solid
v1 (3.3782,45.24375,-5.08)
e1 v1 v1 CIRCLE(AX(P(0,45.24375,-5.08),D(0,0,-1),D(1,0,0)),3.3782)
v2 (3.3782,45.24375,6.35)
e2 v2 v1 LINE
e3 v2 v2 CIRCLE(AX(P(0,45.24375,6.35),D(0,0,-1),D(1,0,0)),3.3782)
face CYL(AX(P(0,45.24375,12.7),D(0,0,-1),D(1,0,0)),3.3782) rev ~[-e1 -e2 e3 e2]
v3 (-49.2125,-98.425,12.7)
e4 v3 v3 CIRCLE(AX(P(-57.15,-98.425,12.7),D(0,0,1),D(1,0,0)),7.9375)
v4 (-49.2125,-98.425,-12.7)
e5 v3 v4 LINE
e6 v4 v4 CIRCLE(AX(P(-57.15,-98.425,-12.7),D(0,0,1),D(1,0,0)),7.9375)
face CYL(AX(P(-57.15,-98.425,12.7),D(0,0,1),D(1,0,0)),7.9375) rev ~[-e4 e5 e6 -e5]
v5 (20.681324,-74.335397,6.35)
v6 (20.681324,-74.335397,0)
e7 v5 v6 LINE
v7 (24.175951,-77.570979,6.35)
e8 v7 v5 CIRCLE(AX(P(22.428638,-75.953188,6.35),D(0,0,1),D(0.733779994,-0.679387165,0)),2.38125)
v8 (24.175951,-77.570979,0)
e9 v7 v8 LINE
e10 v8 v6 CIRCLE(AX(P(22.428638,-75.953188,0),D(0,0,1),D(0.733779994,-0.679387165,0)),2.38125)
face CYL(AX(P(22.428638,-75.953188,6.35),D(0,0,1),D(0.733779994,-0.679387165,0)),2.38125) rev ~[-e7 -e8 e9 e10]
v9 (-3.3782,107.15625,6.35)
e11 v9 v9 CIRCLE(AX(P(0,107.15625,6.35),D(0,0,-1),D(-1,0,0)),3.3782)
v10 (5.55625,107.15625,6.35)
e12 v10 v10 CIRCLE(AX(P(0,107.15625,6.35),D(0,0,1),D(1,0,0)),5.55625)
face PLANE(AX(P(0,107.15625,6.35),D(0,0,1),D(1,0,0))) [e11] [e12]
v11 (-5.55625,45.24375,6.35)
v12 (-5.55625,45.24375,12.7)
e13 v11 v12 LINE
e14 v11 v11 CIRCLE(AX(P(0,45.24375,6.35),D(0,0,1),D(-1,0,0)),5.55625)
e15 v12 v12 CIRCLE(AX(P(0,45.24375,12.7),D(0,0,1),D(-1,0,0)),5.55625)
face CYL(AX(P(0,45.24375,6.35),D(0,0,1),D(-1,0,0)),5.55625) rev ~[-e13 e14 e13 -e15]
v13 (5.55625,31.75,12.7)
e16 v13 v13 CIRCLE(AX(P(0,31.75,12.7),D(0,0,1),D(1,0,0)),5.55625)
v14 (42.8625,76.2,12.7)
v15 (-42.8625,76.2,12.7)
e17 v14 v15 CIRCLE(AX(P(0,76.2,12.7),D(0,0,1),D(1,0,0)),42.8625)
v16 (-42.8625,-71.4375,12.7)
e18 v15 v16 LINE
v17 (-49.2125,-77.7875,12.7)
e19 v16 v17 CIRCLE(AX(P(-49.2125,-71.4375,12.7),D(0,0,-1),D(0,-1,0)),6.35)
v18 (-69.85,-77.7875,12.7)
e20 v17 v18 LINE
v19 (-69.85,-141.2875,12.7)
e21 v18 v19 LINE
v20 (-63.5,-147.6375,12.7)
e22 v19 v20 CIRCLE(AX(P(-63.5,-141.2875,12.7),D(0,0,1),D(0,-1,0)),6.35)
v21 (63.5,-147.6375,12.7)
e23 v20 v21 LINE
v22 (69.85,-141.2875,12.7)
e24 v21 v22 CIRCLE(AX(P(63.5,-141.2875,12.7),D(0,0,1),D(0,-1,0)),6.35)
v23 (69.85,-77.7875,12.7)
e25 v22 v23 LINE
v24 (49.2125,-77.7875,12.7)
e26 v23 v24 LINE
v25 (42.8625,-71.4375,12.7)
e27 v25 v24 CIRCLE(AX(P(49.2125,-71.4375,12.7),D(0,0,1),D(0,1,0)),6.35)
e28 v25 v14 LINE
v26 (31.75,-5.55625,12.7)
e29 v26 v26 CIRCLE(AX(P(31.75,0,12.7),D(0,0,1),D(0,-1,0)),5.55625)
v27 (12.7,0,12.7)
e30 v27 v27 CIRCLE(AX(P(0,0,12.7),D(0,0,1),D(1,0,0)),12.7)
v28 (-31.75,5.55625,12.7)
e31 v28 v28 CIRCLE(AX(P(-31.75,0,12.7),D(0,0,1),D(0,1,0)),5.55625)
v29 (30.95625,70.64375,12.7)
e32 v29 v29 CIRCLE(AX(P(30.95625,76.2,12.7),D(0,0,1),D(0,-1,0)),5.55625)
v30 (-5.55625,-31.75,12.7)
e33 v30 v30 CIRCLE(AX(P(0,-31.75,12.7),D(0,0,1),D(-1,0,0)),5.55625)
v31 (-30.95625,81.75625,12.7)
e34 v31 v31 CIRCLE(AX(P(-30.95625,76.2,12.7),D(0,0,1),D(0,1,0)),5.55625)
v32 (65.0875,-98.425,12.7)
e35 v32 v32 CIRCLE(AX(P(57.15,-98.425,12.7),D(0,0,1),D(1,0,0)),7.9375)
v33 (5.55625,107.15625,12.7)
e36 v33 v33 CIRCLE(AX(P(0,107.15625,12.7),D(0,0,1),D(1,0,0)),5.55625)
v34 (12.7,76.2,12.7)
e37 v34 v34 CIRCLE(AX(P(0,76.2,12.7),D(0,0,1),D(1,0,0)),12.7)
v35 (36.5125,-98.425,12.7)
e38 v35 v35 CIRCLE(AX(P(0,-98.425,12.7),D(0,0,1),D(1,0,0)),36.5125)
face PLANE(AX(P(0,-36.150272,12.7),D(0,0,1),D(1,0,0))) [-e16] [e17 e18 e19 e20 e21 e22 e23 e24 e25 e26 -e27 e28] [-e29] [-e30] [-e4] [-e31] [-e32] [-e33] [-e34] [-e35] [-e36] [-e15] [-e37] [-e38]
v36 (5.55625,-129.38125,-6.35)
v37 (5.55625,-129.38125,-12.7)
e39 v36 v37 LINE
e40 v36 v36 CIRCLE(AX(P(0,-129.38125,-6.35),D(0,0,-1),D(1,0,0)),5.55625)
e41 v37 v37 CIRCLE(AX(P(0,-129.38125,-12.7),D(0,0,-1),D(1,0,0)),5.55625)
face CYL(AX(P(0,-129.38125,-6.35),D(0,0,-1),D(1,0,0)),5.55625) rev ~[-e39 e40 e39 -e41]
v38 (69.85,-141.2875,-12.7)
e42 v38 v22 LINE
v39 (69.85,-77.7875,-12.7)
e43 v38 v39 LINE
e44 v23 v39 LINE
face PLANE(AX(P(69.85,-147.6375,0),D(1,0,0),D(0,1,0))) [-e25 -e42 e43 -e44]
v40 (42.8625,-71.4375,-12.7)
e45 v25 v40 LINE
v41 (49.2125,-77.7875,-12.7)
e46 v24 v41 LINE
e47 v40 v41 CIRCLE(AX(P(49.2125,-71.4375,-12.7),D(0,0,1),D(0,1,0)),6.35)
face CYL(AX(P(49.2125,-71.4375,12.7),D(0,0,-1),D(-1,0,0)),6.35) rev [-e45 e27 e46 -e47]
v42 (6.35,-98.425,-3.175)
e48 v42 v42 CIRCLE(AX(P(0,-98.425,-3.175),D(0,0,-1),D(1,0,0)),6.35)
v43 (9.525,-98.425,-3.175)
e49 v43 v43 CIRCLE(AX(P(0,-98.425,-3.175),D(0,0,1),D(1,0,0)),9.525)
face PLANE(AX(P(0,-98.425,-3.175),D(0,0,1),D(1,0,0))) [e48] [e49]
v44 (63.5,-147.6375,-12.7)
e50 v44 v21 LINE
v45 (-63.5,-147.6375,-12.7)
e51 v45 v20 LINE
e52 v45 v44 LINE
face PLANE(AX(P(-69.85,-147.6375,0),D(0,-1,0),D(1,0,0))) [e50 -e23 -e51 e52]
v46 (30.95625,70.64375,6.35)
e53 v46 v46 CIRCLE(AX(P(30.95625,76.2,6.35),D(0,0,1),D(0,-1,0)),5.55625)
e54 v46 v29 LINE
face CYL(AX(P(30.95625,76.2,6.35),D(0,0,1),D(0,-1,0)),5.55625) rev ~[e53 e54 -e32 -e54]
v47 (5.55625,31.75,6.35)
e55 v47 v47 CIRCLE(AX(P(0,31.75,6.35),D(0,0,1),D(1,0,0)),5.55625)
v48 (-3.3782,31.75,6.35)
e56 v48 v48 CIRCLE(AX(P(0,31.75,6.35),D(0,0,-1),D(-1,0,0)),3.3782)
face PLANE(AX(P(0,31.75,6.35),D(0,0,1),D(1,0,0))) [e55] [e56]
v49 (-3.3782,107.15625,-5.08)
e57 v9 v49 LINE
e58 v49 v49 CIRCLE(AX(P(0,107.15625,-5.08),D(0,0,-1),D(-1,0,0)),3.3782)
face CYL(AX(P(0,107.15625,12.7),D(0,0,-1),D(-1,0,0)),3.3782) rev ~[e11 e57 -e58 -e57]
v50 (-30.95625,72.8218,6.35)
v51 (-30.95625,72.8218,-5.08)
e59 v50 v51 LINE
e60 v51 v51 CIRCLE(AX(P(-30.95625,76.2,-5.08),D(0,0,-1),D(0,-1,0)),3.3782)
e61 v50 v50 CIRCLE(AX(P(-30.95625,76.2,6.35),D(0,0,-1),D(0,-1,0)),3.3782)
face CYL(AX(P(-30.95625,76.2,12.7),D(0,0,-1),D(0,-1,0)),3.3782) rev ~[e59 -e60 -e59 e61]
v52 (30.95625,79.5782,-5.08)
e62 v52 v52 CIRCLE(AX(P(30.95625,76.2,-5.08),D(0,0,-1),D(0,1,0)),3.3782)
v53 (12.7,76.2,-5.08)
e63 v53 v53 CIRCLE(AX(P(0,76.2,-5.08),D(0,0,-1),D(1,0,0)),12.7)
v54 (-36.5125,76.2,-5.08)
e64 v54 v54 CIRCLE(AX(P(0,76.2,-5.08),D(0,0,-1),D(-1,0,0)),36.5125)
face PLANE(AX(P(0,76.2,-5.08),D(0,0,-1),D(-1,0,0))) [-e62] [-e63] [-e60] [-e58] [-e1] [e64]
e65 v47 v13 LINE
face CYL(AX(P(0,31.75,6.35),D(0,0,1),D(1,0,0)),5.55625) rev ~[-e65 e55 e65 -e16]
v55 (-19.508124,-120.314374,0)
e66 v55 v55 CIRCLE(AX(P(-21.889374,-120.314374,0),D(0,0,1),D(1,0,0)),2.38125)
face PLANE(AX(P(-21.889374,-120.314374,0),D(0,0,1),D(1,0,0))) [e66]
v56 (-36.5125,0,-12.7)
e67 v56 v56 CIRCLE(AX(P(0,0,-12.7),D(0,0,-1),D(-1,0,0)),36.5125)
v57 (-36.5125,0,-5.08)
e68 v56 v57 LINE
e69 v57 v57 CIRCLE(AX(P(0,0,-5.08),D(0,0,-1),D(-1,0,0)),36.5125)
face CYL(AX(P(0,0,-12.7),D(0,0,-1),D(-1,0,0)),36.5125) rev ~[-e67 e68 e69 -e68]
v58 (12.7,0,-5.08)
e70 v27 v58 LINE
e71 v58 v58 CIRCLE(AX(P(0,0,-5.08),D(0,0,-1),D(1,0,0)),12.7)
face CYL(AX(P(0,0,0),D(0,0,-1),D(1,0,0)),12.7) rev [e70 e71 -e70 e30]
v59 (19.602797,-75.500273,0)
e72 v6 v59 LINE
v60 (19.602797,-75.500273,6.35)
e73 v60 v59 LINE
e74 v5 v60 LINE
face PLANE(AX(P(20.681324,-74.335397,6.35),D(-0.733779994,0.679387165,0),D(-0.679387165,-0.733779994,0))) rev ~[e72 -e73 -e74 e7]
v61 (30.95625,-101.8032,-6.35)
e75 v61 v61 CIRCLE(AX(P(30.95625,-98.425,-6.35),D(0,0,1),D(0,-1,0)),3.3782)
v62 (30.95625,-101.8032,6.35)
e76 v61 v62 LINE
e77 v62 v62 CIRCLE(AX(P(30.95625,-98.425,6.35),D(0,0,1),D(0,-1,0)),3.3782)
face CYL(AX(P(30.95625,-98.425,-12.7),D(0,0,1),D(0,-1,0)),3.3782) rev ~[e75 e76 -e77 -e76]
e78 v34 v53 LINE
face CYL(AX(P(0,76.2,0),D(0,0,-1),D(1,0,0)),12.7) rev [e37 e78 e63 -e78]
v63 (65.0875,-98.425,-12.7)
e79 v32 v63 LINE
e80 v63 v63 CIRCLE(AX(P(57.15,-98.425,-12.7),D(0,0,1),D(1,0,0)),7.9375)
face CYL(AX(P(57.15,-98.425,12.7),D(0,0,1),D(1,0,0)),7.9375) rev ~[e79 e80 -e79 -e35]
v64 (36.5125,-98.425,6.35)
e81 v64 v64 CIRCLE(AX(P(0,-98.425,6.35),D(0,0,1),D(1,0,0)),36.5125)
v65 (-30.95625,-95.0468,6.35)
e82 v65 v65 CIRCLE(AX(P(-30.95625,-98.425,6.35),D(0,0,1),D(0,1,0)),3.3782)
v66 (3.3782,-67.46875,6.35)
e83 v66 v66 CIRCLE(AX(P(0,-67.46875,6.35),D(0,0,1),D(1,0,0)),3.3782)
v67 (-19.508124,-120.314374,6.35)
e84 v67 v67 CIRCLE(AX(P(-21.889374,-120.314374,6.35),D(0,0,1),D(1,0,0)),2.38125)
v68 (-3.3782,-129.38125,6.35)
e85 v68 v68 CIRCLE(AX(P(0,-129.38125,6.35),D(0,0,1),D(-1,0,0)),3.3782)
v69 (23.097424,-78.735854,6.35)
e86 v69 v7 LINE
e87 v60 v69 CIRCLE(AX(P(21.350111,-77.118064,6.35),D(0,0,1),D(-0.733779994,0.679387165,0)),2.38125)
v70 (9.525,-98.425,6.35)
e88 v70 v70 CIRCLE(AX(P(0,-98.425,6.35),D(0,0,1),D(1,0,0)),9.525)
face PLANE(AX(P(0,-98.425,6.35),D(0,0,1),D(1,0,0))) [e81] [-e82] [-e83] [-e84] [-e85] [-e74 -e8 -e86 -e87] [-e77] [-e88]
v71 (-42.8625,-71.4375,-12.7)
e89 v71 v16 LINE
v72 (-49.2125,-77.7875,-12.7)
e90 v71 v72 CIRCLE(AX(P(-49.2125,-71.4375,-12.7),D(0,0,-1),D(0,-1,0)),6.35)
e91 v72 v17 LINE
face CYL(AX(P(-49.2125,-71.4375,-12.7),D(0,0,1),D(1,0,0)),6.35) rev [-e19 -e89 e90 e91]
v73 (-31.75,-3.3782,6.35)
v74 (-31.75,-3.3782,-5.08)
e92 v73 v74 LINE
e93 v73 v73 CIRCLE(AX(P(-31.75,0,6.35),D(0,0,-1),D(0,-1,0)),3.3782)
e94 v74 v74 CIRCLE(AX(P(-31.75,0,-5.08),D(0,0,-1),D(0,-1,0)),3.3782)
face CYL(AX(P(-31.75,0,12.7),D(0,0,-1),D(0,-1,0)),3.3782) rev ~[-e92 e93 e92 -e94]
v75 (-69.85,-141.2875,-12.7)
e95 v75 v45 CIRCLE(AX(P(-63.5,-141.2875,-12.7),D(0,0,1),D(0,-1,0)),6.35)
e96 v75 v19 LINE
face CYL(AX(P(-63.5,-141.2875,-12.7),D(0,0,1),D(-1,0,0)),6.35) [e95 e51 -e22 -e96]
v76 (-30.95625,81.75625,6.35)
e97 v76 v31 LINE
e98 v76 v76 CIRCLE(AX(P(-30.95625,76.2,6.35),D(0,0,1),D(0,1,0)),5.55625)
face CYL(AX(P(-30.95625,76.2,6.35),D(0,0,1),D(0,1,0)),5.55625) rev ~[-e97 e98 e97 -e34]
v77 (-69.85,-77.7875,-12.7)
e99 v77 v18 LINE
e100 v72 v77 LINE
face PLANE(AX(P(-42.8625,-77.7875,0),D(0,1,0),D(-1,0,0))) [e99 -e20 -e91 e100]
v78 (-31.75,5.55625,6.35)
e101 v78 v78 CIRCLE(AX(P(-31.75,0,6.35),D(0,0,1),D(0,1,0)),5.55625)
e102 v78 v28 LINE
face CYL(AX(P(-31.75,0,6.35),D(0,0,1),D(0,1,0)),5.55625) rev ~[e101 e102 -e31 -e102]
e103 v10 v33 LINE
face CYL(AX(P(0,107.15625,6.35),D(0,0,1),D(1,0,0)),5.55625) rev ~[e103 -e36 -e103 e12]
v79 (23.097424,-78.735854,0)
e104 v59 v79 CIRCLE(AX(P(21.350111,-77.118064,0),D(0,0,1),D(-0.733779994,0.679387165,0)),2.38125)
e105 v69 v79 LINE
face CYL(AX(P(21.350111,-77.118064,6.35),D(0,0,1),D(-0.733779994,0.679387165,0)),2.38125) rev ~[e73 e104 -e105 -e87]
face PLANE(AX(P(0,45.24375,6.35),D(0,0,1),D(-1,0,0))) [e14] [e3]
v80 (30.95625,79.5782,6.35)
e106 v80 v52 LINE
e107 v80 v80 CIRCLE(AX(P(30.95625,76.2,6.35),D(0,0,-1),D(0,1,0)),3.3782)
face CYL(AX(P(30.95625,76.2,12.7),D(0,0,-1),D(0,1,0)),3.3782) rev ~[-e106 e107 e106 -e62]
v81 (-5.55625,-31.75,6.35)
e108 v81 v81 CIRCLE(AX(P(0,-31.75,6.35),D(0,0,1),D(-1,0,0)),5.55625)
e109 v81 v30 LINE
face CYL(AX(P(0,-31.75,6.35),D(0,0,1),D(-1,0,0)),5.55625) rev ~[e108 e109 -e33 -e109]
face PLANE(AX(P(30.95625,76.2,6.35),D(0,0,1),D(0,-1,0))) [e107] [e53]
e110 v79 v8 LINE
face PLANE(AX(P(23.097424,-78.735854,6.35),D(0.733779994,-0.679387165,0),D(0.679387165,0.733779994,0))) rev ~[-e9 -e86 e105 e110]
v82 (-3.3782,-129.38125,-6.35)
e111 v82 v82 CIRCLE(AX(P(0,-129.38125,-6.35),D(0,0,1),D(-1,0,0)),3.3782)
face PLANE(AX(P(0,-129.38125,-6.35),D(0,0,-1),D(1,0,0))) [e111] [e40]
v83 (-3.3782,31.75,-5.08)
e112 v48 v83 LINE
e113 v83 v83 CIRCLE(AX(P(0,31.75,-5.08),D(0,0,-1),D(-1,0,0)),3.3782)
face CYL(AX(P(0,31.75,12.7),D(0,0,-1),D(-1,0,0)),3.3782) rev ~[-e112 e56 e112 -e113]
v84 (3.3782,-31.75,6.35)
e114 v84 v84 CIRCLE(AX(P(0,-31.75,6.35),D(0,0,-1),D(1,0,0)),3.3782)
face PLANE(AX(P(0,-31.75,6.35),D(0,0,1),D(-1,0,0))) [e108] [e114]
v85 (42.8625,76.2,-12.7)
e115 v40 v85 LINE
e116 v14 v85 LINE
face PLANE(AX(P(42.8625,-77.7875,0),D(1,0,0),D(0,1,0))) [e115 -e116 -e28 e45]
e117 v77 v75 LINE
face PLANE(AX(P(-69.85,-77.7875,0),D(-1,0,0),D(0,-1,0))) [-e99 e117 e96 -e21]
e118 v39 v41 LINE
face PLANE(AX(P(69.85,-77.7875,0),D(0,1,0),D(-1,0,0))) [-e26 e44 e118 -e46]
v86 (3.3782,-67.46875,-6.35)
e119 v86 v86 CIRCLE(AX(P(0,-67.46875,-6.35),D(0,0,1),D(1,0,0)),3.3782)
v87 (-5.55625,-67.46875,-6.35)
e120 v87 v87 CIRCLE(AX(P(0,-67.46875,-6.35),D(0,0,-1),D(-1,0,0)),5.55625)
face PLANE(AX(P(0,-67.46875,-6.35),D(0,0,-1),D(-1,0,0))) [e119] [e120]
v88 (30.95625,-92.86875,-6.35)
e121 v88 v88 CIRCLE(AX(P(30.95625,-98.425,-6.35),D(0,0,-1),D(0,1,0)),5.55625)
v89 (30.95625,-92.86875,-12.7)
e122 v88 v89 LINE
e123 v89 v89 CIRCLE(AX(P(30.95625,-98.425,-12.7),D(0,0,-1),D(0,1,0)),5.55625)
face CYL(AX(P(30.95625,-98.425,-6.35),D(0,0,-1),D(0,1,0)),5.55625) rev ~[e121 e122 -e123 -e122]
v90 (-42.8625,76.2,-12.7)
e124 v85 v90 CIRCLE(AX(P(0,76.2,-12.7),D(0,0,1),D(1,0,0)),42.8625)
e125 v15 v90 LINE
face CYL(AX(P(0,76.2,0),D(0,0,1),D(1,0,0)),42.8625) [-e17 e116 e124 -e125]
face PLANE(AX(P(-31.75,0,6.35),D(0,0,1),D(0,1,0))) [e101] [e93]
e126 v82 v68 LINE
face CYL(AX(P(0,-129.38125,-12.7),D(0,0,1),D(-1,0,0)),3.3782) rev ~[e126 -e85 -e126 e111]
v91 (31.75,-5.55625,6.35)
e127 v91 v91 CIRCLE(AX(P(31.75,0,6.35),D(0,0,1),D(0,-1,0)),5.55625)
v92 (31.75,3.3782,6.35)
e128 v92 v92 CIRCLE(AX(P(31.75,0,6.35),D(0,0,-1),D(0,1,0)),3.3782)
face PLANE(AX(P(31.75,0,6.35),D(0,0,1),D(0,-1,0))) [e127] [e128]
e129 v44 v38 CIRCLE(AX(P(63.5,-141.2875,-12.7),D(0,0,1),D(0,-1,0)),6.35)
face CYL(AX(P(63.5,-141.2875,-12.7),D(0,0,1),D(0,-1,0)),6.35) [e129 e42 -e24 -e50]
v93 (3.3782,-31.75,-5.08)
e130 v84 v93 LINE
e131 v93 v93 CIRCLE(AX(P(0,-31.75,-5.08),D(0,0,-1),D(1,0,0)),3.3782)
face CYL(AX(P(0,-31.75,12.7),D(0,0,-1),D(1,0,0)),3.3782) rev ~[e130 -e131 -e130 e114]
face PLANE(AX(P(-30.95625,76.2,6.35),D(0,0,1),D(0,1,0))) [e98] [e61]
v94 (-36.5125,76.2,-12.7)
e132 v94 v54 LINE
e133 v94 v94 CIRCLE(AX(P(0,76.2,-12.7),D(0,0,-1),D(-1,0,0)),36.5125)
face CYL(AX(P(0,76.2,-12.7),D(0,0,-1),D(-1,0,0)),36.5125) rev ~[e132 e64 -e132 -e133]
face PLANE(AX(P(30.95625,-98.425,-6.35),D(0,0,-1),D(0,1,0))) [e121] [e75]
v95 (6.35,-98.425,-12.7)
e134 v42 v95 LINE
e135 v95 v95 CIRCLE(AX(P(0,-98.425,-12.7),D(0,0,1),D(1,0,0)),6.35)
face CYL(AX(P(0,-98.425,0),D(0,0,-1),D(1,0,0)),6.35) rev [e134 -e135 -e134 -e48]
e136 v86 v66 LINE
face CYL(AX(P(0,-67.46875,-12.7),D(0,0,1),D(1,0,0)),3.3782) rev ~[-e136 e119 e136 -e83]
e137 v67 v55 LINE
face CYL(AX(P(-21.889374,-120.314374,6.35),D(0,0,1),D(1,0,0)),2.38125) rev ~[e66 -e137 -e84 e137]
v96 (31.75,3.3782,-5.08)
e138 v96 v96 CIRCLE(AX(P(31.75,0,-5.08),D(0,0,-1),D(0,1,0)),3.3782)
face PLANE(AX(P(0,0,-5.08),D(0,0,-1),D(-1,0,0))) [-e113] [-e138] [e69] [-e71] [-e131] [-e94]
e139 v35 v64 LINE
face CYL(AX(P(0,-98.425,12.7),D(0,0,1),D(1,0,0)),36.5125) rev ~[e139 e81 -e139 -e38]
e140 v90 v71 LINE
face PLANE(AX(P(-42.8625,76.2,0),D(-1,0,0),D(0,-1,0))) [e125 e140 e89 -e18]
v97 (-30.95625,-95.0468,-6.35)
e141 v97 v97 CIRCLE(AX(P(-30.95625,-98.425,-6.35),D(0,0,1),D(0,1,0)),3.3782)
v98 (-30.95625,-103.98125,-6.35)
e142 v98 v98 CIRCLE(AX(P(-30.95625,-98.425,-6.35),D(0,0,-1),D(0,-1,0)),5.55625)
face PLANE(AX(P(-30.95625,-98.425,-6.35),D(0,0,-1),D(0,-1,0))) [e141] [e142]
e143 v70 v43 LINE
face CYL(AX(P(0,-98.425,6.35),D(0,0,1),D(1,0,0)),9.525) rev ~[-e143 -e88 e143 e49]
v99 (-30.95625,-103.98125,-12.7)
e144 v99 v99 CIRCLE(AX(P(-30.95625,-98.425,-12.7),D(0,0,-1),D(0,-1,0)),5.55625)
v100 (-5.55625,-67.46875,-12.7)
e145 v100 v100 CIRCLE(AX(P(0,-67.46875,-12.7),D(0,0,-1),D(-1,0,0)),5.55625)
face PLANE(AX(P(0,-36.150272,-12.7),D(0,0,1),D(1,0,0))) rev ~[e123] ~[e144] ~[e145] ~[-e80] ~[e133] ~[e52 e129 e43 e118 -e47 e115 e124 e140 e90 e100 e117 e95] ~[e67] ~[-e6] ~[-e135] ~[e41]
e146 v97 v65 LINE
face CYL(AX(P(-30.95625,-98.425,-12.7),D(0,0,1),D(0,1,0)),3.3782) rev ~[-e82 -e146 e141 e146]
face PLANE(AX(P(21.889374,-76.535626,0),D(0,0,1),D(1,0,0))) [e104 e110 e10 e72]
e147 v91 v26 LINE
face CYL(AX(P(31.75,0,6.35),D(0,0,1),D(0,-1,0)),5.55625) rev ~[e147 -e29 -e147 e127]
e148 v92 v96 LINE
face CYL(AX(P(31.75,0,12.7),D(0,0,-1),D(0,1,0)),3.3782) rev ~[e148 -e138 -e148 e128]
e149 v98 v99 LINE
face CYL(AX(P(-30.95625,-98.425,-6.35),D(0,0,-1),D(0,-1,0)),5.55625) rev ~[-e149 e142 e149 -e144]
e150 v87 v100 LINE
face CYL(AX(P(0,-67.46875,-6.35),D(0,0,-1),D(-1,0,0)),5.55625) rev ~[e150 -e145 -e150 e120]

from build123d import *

# Parameters (mm, degrees)
BOLT_CIRCLE_R                                     = 12.7
BOLT_CIRCLE_R_2                                   = 6.35
BASE_DEPTH                                        = 12.7
STRUCTURE_TUBE_CONNECTION_COUNTERBORE_D           = 6.7564
STRUCTURE_TUBE_CONNECTION_COUNTERBORE_CBORE_D     = 11.1125
STRUCTURE_TUBE_CONNECTION_COUNTERBORE_CBORE_DEPTH = 6.35
STRUCTURE_TUBE_CONNECTION_COUNTERBORE_PA_COUNT    = 4
SPINDLE_CONNECTION_COUNTERBORE_D                  = 6.7564
SPINDLE_CONNECTION_COUNTERBORE_CBORE_D            = 11.1125
SPINDLE_CONNECTION_COUNTERBORE_CBORE_DEPTH        = 6.35
SPINDLE_CONNECTION_COUNTERBORE_PATTERN_COUNT      = 4
SKETCH16_R                                        = 36.5125
STRUCTURE_TUBE_MOUNTING_POCKET_DEPTH              = 6.35
SKETCH17_R                                        = 36.5125
SPINDLE_MOUNTING_POCKET_DEPTH                     = 7.62
SKETCH18_R                                        = 9.525
LEAD_SCREW_THROUGH_HOLE_DEPTH                     = 9.525
SKETCH20_R                                        = 7.9375
RAIL_MOUNTING_PILOT_HOLES_DEPTH                   = 166.290695159
SKETCH27_R                                        = 2.38125
ALIGNMENT_FEATURES_DEPTH                          = 6.35
GENERIC_ROUNDING_FILLET_R                         = 6.35
WOOD_SPINDLE_CBORE_D                              = 6.7564
WOOD_SPINDLE_CBORE_CBORE_D                        = 11.1125
WOOD_SPINDLE_CBORE_CBORE_DEPTH                    = 6.35
CIRPATTERN1_COUNT                                 = 4
SKETCH30_R                                        = 36.5125
CUT_EXTRUDE1_DEPTH                                = 7.62


with BuildPart() as part:
    # Bolt circle → Base (new, symmetric)
    with BuildSketch(Plane.XY):
        with BuildLine():
            Line((-42.8625, 76.2), (-42.8625, -77.7875))
            Line((-42.8625, -77.7875), (-69.85, -77.7875))
            Line((-69.85, -77.7875), (-69.85, -147.6375))
            Line((-69.85, -147.6375), (69.85, -147.6375))
            Line((69.85, -147.6375), (69.85, -77.7875))
            Line((69.85, -77.7875), (42.8625, -77.7875))
            Line((42.8625, -77.7875), (42.8625, 76.2))
            ThreePointArc((42.8625, 76.2), (0, 119.0625), (-42.8625, 76.2))
        make_face()
        with Locations((0, 76.2)):
            Circle(BOLT_CIRCLE_R, mode=Mode.SUBTRACT)
        Circle(BOLT_CIRCLE_R, mode=Mode.SUBTRACT)
        with Locations((0, -98.425)):
            Circle(BOLT_CIRCLE_R_2, mode=Mode.SUBTRACT)
    extrude(amount=BASE_DEPTH, both=True)

    # Structure tube connection counterbore (through all)
    with Locations(Plane(origin=(0, 0, -12.7), x_dir=(-1, 0, 0), z_dir=(0, 0, -1))):
        with Locations((0, -67.46875)):
            structure_tube_connection_counterbore = CounterBoreHole(STRUCTURE_TUBE_CONNECTION_COUNTERBORE_D / 2, STRUCTURE_TUBE_CONNECTION_COUNTERBORE_CBORE_D / 2, STRUCTURE_TUBE_CONNECTION_COUNTERBORE_CBORE_DEPTH)

    # Structure tube connection counterbore pattern: Structure tube connection counterbore ×4 about axis
    structure_tube_connection_counterbore_pa_axis = Axis((0, -98.425, 12.7), (0, 0, -1))
    for i in range(1, STRUCTURE_TUBE_CONNECTION_COUNTERBORE_PA_COUNT):
        add(structure_tube_connection_counterbore.rotate(structure_tube_connection_counterbore_pa_axis, i * 360 / STRUCTURE_TUBE_CONNECTION_COUNTERBORE_PA_COUNT), mode=Mode.SUBTRACT)

    # Spindle connection counterbore (through all)
    with Locations(Plane.XY.offset(12.7)):
        with Locations((0, 31.75)):
            spindle_connection_counterbore = CounterBoreHole(SPINDLE_CONNECTION_COUNTERBORE_D / 2, SPINDLE_CONNECTION_COUNTERBORE_CBORE_D / 2, SPINDLE_CONNECTION_COUNTERBORE_CBORE_DEPTH)

    # Spindle connection counterbore pattern: Spindle connection counterbore ×4 about axis
    spindle_connection_counterbore_pattern_axis = Axis((0, 0, 12.7), (0, 0, -1))
    for i in range(1, SPINDLE_CONNECTION_COUNTERBORE_PATTERN_COUNT):
        add(spindle_connection_counterbore.rotate(spindle_connection_counterbore_pattern_axis, i * 360 / SPINDLE_CONNECTION_COUNTERBORE_PATTERN_COUNT), mode=Mode.SUBTRACT)

    # Sketch16 → Structure tube mounting pocket (cut)
    with BuildSketch(Plane.XY.offset(12.7)):
        with Locations((0, -98.425)):
            Circle(SKETCH16_R)
    extrude(amount=-STRUCTURE_TUBE_MOUNTING_POCKET_DEPTH, mode=Mode.SUBTRACT)

    # Sketch17 → Spindle mounting pocket (cut)
    with BuildSketch(Plane(origin=(0, 0, -12.7), x_dir=(-1, 0, 0), z_dir=(0, 0, -1))):
        Circle(SKETCH17_R)
    extrude(amount=-SPINDLE_MOUNTING_POCKET_DEPTH, mode=Mode.SUBTRACT)

    # Sketch18 → Lead screw through hole (cut)
    with BuildSketch(Plane.XY.offset(6.35)):
        with Locations((0, -98.425)):
            Circle(SKETCH18_R)
    extrude(amount=-LEAD_SCREW_THROUGH_HOLE_DEPTH, mode=Mode.SUBTRACT)

    # Sketch20 → Rail mounting pilot_holes (cut, through all)
    with BuildSketch(Plane.XY.offset(12.7)):
        with Locations((57.15, -98.425)):
            Circle(SKETCH20_R)
        with Locations((-57.15, -98.425)):
            Circle(SKETCH20_R)
    extrude(amount=-RAIL_MOUNTING_PILOT_HOLES_DEPTH, mode=Mode.SUBTRACT)

    # Sketch27 → Alignment_features (cut)
    with BuildSketch(Plane.XY.offset(6.35)):
        with Locations((-21.889374295, -120.314374295)):
            Circle(SKETCH27_R)
        with BuildLine():
            Line((20.681324246, -74.335397148), (19.602797121, -75.500272889))
            ThreePointArc((19.602797121, -75.500272889), (19.732320046, -78.865377187), (23.097424344, -78.735854262))
            Line((23.097424344, -78.735854262), (24.175951469, -77.570978521))
            ThreePointArc((24.175951469, -77.570978521), (24.046428544, -74.205874223), (20.681324246, -74.335397148))
        make_face()
    extrude(amount=-ALIGNMENT_FEATURES_DEPTH, mode=Mode.SUBTRACT)

    # Generic_rounding_fillet
    generic_rounding_fillet_edges = [part.edges().sort_by_distance(p)[0] for p in [
        (42.8625, -77.7875, 0),
        (-42.8625, -77.7875, 0),
        (-69.85, -147.6375, 0),
        (69.85, -147.6375, 0),
    ]]
    fillet(generic_rounding_fillet_edges, radius=GENERIC_ROUNDING_FILLET_R)

    # wood_spindle_CBORE (through all)
    with Locations(Plane.XY.offset(12.7)):
        with Locations((0, 107.15625)):
            wood_spindle_cbore = CounterBoreHole(WOOD_SPINDLE_CBORE_D / 2, WOOD_SPINDLE_CBORE_CBORE_D / 2, WOOD_SPINDLE_CBORE_CBORE_DEPTH)

    # CirPattern1: wood_spindle_CBORE ×4 about axis
    cirpattern1_axis = Axis((0, 76.2, 12.7), (0, 0, -1))
    for i in range(1, CIRPATTERN1_COUNT):
        add(wood_spindle_cbore.rotate(cirpattern1_axis, i * 360 / CIRPATTERN1_COUNT), mode=Mode.SUBTRACT)

    # Sketch30 → Cut-Extrude1 (cut)
    with BuildSketch(Plane(origin=(0, 0, -12.7), x_dir=(-1, 0, 0), z_dir=(0, 0, -1))):
        with Locations((0, 76.2)):
            Circle(SKETCH30_R)
    extrude(amount=-CUT_EXTRUDE1_DEPTH, mode=Mode.SUBTRACT)


solid = part.part
